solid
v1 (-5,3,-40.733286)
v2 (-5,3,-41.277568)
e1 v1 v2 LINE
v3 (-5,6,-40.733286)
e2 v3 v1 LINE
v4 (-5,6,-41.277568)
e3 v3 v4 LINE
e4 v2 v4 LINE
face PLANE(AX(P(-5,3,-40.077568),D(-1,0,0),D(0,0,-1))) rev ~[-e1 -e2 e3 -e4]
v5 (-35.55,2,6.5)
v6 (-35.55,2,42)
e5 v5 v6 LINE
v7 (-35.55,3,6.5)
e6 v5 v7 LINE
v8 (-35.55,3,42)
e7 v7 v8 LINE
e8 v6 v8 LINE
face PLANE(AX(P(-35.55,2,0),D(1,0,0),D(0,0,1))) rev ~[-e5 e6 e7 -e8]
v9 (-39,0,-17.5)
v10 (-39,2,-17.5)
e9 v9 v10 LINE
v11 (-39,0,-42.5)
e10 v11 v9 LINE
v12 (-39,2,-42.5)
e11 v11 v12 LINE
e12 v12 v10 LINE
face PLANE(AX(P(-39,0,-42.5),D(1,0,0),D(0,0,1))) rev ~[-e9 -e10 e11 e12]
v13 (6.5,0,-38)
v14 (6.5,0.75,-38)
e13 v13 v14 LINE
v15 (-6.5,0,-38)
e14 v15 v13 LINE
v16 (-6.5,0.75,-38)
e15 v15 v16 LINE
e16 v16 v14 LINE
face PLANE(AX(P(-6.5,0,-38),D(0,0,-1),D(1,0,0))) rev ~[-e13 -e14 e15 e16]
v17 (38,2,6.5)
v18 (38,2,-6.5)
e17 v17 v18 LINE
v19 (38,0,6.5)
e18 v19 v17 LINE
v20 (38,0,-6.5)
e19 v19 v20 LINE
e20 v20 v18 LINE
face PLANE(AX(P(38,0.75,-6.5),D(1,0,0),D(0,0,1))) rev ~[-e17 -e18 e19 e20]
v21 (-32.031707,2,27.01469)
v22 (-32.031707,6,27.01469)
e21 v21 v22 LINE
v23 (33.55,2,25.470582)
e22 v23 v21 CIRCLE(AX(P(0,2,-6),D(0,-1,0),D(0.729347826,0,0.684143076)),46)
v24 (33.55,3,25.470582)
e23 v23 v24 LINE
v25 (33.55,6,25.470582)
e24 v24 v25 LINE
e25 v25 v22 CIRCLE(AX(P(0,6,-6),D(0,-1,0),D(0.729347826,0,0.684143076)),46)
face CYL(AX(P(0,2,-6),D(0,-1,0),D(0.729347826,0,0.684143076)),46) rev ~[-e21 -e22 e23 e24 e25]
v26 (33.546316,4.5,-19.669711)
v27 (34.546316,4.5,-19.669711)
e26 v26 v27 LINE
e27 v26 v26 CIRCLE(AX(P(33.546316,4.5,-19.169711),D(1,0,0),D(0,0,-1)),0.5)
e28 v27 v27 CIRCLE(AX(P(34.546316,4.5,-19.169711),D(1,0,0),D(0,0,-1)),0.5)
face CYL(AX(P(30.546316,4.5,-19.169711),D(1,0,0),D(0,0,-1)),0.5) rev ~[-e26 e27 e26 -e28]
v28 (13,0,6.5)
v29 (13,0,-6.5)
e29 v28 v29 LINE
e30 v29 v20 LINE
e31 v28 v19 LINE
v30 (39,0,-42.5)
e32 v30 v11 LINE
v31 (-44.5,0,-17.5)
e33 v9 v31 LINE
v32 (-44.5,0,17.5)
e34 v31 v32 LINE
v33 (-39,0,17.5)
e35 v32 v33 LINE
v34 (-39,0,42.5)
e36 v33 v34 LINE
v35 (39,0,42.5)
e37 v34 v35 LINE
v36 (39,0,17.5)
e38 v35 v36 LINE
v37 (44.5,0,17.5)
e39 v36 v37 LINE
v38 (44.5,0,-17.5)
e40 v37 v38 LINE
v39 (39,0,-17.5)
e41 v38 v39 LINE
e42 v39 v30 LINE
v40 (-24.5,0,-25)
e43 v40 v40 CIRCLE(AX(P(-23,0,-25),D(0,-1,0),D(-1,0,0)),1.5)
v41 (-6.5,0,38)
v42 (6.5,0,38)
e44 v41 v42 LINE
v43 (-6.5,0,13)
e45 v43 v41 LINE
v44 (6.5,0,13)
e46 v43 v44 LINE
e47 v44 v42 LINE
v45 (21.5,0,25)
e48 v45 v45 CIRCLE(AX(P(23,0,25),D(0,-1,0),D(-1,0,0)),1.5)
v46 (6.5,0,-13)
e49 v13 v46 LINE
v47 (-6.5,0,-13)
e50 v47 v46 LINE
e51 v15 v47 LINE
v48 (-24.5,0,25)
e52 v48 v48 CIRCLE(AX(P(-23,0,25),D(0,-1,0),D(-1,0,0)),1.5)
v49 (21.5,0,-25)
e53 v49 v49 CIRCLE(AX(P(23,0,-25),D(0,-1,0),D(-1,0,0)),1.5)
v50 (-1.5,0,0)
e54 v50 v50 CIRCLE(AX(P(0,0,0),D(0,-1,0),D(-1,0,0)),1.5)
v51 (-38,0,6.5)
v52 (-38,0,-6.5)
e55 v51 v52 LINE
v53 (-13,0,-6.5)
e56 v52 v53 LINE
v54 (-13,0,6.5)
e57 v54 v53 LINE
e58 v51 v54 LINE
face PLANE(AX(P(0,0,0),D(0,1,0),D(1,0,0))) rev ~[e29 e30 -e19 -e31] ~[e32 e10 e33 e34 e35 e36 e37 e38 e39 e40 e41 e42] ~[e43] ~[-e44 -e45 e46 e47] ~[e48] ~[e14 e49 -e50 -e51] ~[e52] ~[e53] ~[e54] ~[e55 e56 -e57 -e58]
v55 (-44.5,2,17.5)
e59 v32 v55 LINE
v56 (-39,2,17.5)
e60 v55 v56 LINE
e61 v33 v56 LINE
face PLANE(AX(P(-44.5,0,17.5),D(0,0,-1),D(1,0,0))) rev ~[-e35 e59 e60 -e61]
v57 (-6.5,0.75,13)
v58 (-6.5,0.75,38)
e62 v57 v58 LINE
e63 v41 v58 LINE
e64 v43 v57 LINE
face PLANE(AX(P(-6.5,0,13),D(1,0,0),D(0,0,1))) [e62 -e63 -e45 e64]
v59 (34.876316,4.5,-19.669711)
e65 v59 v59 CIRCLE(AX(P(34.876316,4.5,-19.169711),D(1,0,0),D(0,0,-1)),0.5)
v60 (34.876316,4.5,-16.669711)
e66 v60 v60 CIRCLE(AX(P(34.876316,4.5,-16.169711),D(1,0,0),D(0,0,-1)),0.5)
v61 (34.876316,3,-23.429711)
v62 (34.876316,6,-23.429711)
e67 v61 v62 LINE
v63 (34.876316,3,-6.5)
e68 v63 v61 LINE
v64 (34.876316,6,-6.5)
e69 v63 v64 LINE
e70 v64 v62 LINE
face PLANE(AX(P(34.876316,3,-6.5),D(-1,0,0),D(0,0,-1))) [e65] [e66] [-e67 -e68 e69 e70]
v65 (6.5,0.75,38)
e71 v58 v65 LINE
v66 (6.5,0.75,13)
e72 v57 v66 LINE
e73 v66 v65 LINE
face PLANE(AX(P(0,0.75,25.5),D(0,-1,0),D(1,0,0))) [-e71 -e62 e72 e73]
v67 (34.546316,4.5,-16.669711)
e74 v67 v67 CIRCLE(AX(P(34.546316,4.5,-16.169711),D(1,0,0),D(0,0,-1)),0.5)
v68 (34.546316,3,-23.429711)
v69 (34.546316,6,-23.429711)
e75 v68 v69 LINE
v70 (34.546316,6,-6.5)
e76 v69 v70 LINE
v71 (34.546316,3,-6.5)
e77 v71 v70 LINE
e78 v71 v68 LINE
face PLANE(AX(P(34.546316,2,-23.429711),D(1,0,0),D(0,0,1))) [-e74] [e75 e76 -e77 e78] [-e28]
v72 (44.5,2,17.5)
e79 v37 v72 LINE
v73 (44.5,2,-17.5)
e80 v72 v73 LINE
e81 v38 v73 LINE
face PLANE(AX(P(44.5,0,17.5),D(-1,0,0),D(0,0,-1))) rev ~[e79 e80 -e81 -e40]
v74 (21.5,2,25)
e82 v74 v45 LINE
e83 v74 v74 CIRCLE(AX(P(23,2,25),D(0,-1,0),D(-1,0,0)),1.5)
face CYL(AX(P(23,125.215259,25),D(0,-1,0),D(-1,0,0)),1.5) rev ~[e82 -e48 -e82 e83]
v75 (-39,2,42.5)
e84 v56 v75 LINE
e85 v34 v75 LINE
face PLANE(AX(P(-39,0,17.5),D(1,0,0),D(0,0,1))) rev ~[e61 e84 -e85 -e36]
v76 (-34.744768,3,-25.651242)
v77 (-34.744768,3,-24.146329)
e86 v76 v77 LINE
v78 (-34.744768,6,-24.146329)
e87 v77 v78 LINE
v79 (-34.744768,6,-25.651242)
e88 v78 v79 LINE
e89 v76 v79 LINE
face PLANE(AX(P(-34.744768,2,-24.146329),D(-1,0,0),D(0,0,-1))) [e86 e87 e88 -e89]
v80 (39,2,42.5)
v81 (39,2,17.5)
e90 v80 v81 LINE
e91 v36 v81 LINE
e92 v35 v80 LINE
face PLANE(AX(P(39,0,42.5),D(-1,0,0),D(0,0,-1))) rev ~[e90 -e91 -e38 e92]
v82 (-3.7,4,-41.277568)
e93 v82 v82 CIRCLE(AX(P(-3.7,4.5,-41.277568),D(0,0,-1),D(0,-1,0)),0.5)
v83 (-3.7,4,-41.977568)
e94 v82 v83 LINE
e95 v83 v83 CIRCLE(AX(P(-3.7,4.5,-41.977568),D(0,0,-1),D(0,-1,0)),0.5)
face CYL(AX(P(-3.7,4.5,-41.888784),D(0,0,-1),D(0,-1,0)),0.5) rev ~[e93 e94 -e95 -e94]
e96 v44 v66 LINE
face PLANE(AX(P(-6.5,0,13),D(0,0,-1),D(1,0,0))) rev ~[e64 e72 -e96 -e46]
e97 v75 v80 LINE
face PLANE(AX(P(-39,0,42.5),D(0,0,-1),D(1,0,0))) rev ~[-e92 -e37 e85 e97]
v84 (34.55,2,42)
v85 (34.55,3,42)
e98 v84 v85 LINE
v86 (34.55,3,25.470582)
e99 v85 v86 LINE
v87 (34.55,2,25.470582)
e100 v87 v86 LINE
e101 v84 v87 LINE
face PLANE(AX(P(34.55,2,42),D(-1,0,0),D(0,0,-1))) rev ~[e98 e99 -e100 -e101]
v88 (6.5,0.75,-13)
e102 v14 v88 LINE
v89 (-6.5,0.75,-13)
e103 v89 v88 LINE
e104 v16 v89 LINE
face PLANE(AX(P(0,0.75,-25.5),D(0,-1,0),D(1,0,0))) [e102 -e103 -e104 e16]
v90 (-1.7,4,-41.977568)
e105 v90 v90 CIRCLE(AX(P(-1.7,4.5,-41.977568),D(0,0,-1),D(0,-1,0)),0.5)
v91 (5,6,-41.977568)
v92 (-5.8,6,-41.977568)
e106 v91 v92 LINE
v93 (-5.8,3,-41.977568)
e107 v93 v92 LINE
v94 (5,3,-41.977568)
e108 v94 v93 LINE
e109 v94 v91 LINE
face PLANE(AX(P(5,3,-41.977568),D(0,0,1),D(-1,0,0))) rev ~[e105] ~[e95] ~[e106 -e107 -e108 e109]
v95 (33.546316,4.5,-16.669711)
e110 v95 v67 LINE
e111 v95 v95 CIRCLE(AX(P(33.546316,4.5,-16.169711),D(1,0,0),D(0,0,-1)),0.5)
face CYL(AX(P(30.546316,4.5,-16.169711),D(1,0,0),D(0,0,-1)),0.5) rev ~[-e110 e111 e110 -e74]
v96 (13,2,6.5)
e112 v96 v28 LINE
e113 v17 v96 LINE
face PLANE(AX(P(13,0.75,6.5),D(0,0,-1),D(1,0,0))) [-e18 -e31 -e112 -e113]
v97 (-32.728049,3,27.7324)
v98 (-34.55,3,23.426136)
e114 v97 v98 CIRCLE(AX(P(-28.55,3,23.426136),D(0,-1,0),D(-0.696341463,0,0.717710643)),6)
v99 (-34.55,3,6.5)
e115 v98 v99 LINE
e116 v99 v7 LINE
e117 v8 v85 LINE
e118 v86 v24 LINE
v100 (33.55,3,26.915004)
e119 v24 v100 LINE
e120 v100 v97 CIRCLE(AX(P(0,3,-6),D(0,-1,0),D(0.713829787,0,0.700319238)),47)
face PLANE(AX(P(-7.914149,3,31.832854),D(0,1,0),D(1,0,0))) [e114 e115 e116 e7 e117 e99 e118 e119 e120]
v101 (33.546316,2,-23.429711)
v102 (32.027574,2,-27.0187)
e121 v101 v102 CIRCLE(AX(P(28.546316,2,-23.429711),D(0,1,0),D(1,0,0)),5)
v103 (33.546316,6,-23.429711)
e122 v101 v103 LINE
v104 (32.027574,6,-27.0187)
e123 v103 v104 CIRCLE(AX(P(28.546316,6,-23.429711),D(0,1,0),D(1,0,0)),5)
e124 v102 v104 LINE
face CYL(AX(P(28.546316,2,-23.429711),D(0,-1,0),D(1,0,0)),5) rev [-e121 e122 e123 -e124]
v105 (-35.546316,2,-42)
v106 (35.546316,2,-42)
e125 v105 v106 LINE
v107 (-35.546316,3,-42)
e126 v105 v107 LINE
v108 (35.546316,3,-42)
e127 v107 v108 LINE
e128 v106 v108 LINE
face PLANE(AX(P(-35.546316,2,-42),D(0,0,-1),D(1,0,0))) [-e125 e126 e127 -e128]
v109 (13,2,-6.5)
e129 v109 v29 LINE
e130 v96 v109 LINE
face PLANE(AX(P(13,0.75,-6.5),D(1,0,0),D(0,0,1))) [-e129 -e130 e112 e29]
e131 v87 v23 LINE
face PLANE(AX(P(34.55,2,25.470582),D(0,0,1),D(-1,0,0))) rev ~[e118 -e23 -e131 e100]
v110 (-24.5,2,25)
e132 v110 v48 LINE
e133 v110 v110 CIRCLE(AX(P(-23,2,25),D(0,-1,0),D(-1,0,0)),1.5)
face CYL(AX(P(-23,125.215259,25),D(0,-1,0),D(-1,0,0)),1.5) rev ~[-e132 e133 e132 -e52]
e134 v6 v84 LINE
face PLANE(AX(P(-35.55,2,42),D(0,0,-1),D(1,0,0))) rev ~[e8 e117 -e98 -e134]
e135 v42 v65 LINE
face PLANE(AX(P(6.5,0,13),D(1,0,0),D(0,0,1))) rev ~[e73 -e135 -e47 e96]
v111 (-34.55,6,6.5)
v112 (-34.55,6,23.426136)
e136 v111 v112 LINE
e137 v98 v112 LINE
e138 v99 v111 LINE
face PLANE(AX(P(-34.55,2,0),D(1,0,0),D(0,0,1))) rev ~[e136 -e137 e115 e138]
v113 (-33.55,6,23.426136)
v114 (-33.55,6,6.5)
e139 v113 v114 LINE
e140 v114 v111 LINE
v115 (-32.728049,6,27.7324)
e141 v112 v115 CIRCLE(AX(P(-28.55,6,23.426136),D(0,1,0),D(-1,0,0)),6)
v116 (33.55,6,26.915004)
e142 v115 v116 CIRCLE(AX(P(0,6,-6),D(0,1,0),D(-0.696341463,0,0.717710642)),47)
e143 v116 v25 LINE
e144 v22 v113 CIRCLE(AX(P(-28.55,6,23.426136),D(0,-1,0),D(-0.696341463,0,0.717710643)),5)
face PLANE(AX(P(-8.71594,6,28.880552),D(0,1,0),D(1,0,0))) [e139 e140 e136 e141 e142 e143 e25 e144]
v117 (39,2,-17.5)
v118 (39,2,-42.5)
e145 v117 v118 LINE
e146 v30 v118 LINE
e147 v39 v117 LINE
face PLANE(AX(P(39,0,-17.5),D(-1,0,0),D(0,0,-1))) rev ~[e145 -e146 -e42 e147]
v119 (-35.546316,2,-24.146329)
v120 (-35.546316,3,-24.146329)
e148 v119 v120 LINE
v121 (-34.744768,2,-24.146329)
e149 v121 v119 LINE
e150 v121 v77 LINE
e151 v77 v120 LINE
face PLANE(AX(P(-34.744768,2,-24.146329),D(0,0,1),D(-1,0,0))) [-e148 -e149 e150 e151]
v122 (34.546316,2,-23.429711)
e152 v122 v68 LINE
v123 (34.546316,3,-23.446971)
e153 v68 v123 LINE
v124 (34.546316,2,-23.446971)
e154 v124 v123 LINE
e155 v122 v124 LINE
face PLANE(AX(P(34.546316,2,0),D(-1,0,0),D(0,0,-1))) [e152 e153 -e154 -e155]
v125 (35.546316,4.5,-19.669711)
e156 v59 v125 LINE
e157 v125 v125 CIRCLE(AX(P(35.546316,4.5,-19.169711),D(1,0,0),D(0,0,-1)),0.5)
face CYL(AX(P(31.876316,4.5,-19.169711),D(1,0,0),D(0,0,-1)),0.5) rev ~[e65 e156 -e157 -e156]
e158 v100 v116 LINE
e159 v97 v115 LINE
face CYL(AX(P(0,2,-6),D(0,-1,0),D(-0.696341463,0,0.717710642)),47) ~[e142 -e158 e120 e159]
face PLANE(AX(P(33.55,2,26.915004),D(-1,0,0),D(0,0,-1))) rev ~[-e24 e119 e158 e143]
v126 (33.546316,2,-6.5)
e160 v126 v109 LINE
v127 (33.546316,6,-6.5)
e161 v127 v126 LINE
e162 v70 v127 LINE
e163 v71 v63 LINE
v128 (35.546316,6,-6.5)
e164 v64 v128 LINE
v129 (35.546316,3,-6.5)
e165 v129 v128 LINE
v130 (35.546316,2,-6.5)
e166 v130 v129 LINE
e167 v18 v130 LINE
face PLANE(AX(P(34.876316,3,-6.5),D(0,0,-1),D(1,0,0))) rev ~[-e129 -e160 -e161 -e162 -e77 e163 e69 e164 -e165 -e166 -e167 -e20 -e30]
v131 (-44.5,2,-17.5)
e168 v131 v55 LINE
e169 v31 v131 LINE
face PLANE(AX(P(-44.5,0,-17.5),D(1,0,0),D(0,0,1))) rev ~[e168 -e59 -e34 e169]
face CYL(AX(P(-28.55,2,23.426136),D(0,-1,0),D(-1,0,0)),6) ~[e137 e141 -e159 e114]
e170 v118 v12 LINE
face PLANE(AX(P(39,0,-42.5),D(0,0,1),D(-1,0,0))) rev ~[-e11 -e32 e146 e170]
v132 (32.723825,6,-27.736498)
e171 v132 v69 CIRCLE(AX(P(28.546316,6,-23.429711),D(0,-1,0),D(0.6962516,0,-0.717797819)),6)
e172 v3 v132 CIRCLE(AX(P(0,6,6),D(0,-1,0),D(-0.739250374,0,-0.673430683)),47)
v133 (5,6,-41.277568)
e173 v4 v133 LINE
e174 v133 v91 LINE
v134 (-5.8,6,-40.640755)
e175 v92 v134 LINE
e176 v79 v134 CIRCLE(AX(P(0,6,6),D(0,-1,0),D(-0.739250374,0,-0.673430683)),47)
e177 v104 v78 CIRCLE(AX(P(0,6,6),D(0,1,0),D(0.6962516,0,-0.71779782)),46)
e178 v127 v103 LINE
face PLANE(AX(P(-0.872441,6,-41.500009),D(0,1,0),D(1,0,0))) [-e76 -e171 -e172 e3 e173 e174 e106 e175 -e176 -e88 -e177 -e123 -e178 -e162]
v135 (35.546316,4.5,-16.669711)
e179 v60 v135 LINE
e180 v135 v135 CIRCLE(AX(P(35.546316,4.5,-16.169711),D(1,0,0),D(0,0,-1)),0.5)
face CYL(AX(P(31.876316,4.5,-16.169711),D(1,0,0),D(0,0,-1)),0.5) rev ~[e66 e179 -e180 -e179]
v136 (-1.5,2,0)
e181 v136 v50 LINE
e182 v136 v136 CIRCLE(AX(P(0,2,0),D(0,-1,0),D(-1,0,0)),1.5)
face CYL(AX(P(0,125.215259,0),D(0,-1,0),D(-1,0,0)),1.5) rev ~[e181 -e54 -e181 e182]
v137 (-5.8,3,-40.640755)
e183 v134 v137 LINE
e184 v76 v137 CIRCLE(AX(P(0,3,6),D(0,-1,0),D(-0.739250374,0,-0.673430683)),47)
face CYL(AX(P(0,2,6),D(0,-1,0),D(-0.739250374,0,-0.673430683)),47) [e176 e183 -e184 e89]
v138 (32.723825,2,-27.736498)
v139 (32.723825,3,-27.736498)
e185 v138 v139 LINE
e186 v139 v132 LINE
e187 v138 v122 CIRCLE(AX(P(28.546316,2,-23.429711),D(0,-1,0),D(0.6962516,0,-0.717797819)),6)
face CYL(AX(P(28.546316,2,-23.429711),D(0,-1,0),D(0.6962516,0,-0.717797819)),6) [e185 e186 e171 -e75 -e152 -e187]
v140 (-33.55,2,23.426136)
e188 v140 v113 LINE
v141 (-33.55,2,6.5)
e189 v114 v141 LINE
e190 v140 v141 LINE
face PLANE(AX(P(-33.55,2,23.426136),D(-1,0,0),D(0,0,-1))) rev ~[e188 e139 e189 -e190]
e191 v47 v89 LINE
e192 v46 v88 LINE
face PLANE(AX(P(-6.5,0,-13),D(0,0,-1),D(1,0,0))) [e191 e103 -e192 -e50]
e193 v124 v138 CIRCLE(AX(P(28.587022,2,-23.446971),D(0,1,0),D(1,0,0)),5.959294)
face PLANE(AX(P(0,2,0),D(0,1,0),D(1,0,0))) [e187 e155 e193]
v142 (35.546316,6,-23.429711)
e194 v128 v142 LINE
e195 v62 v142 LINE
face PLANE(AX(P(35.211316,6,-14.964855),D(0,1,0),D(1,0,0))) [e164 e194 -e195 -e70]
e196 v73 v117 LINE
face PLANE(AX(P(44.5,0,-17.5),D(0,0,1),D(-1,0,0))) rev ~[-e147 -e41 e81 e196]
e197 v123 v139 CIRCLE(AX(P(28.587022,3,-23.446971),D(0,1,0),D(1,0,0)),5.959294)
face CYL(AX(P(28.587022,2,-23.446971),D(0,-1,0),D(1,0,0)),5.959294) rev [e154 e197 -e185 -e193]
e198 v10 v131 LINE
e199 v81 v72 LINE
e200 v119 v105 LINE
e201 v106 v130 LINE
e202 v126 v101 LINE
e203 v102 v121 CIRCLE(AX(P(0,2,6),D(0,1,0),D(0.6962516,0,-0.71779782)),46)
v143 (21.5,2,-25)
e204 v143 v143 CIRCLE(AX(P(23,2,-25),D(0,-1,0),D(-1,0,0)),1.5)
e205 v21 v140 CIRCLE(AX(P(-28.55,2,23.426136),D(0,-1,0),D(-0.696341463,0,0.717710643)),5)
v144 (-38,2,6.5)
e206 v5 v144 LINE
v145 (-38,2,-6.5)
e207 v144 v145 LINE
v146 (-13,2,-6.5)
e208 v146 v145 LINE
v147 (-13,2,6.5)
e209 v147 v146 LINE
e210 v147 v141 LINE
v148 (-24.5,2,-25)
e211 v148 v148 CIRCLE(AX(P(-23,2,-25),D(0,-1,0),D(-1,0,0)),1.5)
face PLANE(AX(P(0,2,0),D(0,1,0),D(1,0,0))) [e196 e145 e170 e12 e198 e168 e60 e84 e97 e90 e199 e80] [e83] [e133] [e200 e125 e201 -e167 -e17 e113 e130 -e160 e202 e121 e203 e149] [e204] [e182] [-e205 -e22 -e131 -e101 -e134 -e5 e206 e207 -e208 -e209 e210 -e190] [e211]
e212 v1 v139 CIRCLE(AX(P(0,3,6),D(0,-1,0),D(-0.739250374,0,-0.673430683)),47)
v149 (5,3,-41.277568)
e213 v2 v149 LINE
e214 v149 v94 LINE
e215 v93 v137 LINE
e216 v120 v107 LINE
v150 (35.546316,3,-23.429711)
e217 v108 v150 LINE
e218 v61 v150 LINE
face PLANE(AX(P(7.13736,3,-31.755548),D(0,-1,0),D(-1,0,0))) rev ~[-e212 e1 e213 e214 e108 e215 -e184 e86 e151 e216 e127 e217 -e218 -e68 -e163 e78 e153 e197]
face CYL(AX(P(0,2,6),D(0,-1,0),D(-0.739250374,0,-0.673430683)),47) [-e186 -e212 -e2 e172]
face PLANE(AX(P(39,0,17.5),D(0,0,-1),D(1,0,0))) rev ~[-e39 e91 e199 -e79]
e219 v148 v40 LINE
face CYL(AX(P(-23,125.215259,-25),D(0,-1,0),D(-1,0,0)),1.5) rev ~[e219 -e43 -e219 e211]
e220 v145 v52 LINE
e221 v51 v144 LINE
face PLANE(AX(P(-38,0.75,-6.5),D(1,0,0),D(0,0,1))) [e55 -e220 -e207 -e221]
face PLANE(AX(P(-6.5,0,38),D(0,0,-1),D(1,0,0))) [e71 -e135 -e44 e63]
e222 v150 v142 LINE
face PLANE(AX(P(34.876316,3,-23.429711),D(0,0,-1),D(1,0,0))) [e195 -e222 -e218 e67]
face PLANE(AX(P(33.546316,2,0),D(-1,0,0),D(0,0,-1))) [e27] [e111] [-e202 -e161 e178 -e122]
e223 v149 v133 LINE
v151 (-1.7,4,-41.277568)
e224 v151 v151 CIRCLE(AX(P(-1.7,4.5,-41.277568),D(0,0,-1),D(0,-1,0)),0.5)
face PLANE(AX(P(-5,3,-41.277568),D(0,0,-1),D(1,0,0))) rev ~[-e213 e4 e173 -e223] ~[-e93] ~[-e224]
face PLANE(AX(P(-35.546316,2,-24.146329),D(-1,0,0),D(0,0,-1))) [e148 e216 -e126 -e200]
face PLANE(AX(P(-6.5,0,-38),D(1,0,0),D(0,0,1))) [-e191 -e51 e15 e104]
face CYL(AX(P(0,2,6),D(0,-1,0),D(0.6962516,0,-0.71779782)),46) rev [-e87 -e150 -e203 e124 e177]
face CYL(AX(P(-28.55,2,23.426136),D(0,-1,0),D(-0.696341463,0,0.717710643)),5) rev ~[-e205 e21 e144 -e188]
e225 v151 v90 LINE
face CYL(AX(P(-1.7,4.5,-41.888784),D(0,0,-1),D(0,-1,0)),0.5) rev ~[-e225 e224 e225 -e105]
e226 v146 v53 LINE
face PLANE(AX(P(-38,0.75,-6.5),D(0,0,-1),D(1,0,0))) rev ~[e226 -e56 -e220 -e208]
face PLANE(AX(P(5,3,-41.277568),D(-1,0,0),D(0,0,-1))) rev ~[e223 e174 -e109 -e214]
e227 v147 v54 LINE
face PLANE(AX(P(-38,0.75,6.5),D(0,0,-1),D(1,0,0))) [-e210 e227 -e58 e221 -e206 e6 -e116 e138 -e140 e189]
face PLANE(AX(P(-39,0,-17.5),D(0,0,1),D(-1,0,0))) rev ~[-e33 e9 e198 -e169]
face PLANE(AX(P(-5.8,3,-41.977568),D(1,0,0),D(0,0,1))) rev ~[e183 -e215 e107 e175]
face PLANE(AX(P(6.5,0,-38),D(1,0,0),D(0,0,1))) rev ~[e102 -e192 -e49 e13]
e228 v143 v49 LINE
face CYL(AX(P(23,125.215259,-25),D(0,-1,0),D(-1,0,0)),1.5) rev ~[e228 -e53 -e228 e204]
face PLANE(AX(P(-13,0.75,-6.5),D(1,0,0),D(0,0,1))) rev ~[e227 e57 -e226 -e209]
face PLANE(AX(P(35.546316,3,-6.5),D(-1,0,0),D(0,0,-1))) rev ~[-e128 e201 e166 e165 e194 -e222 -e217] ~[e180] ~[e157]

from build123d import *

# Parameters (mm, degrees)
BOSS_EXTRUDE1_DEPTH               = 2
BOSS_EXTRUDE2_DEPTH               = 4
BOSS_EXTRUDE3_DEPTH               = 1
BOSS_EXTRUDE4_DEPTH               = 3
SKETCH7_W                         = 13
SKETCH7_H                         = 25
CUT_EXTRUDE2_DEPTH                = 0.75
F_3_0_3_DIAMETER_HOLE1_D          = 3
SKETCH12_W                        = 0.5
SKETCH12_H                        = 1.222432211
F_1_0_1_DIAMETER_HOLE1_AT_2_COUNT = 2
F_1_0_1_DIAMETER_HOLE1_AT_2_PITCH = 2
F_1_0_1_DIAMETER_HOLE2_D          = 1
F_1_0_1_DIAMETER_HOLE2_DEPTH      = 3
SKETCH18_W                        = 25
SKETCH18_H                        = 13
CUT_EXTRUDE4_DEPTH                = 10
SKETCH19_W                        = 25
SKETCH19_H                        = 13
CUT_EXTRUDE5_DEPTH                = 62.758096635
SKETCH20_W                        = 0.67
SKETCH20_H                        = 16.929710607
BOSS_EXTRUDE5_DEPTH               = 3
F_1_0_1_DIAMETER_HOLE3_D          = 1
F_1_0_1_DIAMETER_HOLE3_DEPTH      = 3


with BuildPart() as part:
    # Sketch1 → Boss-Extrude1 (new body)
    with BuildSketch(Plane(origin=(0, 0, 0), x_dir=(1, 0, 0), z_dir=(0, 1, 0))):
        Polygon((17.5, 42.5), (-39, 42.5), (-39, 17.5), (-44.5, 17.5), (-44.5, -17.5), (-39, -17.5), (-39, -42.5), (17.5, -42.5), (39, -42.5), (39, -17.5), (44.5, -17.5), (44.5, 17.5), (39, 17.5), (39, 42.5), align=None)
    extrude(amount=BOSS_EXTRUDE1_DEPTH)

    # Sketch2 → Boss-Extrude2 (add)
    with BuildSketch(Plane(origin=(0, 2, 0), x_dir=(1, 0, 0), z_dir=(0, 1, 0))):
        with BuildLine():
            Line((34.546315587, 23.429710607), (34.546315587, 0))
            Line((34.546315587, 0), (33.546315587, 0))
            Line((33.546315587, 0), (33.546315587, 23.429710607))
            ThreePointArc((33.546315587, 23.429710607), (33.151002872, 25.378262634), (32.027573585, 27.018699705))
            ThreePointArc((32.027573585, 27.018699705), (-1.976971125, 39.957497595), (-34.744767591, 24.14632855))
            Line((-34.744767591, 24.14632855), (-34.744767591, 25.651242078))
            ThreePointArc((-34.744767591, 25.651242078), (-1.451938229, 40.977567789), (32.723825185, 27.736497525))
            ThreePointArc((32.723825185, 27.736497525), (34.071940329, 25.76797304), (34.546315587, 23.429710607))
        make_face()
        with BuildLine():
            Line((33.55, -26.915004177), (33.55, -25.470581501))
            ThreePointArc((33.55, -25.470581501), (1.082760633, -39.987255076), (-32.031707317, -27.014689554))
            ThreePointArc((-32.031707317, -27.014689554), (-33.154809257, -25.374400109), (-33.55, -23.426136342))
            Line((-33.55, -23.426136342), (-33.55, 0))
            Line((-33.55, 0), (-34.55, 0))
            Line((-34.55, 0), (-34.55, -23.426136342))
            ThreePointArc((-34.55, -23.426136342), (-34.075771108, -25.764052863), (-32.72804878, -27.732400197))
            ThreePointArc((-32.72804878, -27.732400197), (0.579599012, -40.996426087), (33.55, -26.915004177))
        make_face()
    extrude(amount=BOSS_EXTRUDE2_DEPTH)

    # Sketch3 → Boss-Extrude3 (add)
    with BuildSketch(Plane(origin=(0, 2, 0), x_dir=(1, 0, 0), z_dir=(0, 1, 0))):
        with BuildLine():
            Line((-35.546315587, 42), (35.546315587, 42))
            Line((35.546315587, 42), (35.546315587, 0))
            Line((35.546315587, 0), (34.546315587, 0))
            Line((34.546315587, 0), (34.546315587, 23.446970837))
            ThreePointArc((34.546315587, 23.446970837), (34.071801154, 25.777287901), (32.723825185, 27.736497525))
            ThreePointArc((32.723825185, 27.736497525), (-1.450164751, 40.920186771), (-34.744767591, 25.651242078))
            Line((-34.744767591, 25.651242078), (-34.744767591, 24.14632855))
            Line((-34.744767591, 24.14632855), (-35.546315587, 24.14632855))
            Line((-35.546315587, 24.14632855), (-35.546315587, 25.914938844))
            Line((-35.546315587, 25.914938844), (-35.546315587, 42))
        make_face()
        with BuildLine():
            Line((-35.55, -42), (34.55, -42))
            Line((34.55, -42), (34.55, -25.470581501))
            Line((34.55, -25.470581501), (33.55, -25.470581501))
            Line((33.55, -25.470581501), (33.55, -26.915004177))
            ThreePointArc((33.55, -26.915004177), (0.579599012, -40.996426087), (-32.72804878, -27.732400197))
            ThreePointArc((-32.72804878, -27.732400197), (-34.075771108, -25.764052863), (-34.55, -23.426136342))
            Line((-34.55, -23.426136342), (-34.55, 0))
            Line((-34.55, 0), (-35.55, 0))
            Line((-35.55, 0), (-35.55, -42))
        make_face()
    extrude(amount=BOSS_EXTRUDE3_DEPTH)

    # Sketch4 → Boss-Extrude4 (add)
    with BuildSketch(Plane(origin=(0, 3, 0), x_dir=(1, 0, 0), z_dir=(0, 1, 0))):
        Polygon((5, 41.977567789), (-5.8, 41.977567789), (-5.8, 40.077567789), (-5, 40.077567789), (-5, 41.277567789), (5, 41.277567789), align=None)
    extrude(amount=BOSS_EXTRUDE4_DEPTH)

    # Sketch7 → Cut-Extrude2 (cut)
    with BuildSketch(Plane.XZ):
        with Locations((0, -25.5)):
            Rectangle(SKETCH7_W, SKETCH7_H)
        with Locations((0, 25.5)):
            Rectangle(SKETCH7_W, SKETCH7_H)
    extrude(amount=-CUT_EXTRUDE2_DEPTH, mode=Mode.SUBTRACT)

    # Ø3.0 (3) Diameter Hole1 (through all)
    with Locations(Plane(origin=(0, 2, 0), x_dir=(1, 0, 0), z_dir=(0, 1, 0))):
        with Locations((-23, 25), (-23, -25), (23, -25), (23, 25), (0, 0)):
            Hole(F_3_0_3_DIAMETER_HOLE1_D / 2)

    # Sketch12 → Ø1.0 (1) Diameter Hole1 (revolve, cut)
    with BuildSketch(Plane(origin=(-3.7, 4.5, -41.277567789), x_dir=(0, -1, 0), z_dir=(1, 0, 0))):
        with Locations((0.25, 0.611216106)):
            Rectangle(SKETCH12_W, SKETCH12_H)
    f_1_0_1_diameter_hole1 = revolve(axis=Axis((-3.7, 4.5, -34.927567789), (0, 0, -1)), mode=Mode.SUBTRACT)

    # Ø1.0 (1) Diameter Hole1 at 2: Ø1.0 (1) Diameter Hole1 ×2
    with Locations(*[(i * F_1_0_1_DIAMETER_HOLE1_AT_2_PITCH, 0, 0) for i in range(1, F_1_0_1_DIAMETER_HOLE1_AT_2_COUNT)]):
        add(f_1_0_1_diameter_hole1, mode=Mode.SUBTRACT)

    # Ø1.0 (1) Diameter Hole2
    with Locations(Plane.ZY.offset(-33.546315587)):
        with Locations((-19.169710607, 4.5), (-16.169710607, 4.5)):
            Hole(F_1_0_1_DIAMETER_HOLE2_D / 2, depth=F_1_0_1_DIAMETER_HOLE2_DEPTH)

    # Sketch18 → Cut-Extrude4 (cut)
    with BuildSketch(Plane.XZ.offset(-0.75)):
        with Locations((-25.5, 0)):
            Rectangle(SKETCH18_W, SKETCH18_H)
        with Locations((25.5, 0)):
            Rectangle(SKETCH18_W, SKETCH18_H)
    extrude(amount=-CUT_EXTRUDE4_DEPTH, mode=Mode.SUBTRACT)

    # Sketch19 → Cut-Extrude5 (cut, through all)
    with BuildSketch(Plane(origin=(0, 0.75, 0), x_dir=(1, 0, 0), z_dir=(0, 1, 0))):
        with Locations((-25.5, 0)):
            Rectangle(SKETCH19_W, SKETCH19_H)
        with Locations((25.5, 0)):
            Rectangle(SKETCH19_W, SKETCH19_H)
    extrude(amount=-CUT_EXTRUDE5_DEPTH, mode=Mode.SUBTRACT)

    # Sketch20 → Boss-Extrude5 (add)
    with BuildSketch(Plane(origin=(0, 3, 0), x_dir=(1, 0, 0), z_dir=(0, 1, 0))):
        with Locations((35.211315587, 14.964855304)):
            Rectangle(SKETCH20_W, SKETCH20_H)
    extrude(amount=BOSS_EXTRUDE5_DEPTH)

    # Ø1.0 (1) Diameter Hole3
    with Locations(Plane.ZY.offset(-34.876315587)):
        with Locations((-19.169710607, 4.5), (-16.169710607, 4.5)):
            Hole(F_1_0_1_DIAMETER_HOLE3_D / 2, depth=F_1_0_1_DIAMETER_HOLE3_DEPTH)


solid = part.part
